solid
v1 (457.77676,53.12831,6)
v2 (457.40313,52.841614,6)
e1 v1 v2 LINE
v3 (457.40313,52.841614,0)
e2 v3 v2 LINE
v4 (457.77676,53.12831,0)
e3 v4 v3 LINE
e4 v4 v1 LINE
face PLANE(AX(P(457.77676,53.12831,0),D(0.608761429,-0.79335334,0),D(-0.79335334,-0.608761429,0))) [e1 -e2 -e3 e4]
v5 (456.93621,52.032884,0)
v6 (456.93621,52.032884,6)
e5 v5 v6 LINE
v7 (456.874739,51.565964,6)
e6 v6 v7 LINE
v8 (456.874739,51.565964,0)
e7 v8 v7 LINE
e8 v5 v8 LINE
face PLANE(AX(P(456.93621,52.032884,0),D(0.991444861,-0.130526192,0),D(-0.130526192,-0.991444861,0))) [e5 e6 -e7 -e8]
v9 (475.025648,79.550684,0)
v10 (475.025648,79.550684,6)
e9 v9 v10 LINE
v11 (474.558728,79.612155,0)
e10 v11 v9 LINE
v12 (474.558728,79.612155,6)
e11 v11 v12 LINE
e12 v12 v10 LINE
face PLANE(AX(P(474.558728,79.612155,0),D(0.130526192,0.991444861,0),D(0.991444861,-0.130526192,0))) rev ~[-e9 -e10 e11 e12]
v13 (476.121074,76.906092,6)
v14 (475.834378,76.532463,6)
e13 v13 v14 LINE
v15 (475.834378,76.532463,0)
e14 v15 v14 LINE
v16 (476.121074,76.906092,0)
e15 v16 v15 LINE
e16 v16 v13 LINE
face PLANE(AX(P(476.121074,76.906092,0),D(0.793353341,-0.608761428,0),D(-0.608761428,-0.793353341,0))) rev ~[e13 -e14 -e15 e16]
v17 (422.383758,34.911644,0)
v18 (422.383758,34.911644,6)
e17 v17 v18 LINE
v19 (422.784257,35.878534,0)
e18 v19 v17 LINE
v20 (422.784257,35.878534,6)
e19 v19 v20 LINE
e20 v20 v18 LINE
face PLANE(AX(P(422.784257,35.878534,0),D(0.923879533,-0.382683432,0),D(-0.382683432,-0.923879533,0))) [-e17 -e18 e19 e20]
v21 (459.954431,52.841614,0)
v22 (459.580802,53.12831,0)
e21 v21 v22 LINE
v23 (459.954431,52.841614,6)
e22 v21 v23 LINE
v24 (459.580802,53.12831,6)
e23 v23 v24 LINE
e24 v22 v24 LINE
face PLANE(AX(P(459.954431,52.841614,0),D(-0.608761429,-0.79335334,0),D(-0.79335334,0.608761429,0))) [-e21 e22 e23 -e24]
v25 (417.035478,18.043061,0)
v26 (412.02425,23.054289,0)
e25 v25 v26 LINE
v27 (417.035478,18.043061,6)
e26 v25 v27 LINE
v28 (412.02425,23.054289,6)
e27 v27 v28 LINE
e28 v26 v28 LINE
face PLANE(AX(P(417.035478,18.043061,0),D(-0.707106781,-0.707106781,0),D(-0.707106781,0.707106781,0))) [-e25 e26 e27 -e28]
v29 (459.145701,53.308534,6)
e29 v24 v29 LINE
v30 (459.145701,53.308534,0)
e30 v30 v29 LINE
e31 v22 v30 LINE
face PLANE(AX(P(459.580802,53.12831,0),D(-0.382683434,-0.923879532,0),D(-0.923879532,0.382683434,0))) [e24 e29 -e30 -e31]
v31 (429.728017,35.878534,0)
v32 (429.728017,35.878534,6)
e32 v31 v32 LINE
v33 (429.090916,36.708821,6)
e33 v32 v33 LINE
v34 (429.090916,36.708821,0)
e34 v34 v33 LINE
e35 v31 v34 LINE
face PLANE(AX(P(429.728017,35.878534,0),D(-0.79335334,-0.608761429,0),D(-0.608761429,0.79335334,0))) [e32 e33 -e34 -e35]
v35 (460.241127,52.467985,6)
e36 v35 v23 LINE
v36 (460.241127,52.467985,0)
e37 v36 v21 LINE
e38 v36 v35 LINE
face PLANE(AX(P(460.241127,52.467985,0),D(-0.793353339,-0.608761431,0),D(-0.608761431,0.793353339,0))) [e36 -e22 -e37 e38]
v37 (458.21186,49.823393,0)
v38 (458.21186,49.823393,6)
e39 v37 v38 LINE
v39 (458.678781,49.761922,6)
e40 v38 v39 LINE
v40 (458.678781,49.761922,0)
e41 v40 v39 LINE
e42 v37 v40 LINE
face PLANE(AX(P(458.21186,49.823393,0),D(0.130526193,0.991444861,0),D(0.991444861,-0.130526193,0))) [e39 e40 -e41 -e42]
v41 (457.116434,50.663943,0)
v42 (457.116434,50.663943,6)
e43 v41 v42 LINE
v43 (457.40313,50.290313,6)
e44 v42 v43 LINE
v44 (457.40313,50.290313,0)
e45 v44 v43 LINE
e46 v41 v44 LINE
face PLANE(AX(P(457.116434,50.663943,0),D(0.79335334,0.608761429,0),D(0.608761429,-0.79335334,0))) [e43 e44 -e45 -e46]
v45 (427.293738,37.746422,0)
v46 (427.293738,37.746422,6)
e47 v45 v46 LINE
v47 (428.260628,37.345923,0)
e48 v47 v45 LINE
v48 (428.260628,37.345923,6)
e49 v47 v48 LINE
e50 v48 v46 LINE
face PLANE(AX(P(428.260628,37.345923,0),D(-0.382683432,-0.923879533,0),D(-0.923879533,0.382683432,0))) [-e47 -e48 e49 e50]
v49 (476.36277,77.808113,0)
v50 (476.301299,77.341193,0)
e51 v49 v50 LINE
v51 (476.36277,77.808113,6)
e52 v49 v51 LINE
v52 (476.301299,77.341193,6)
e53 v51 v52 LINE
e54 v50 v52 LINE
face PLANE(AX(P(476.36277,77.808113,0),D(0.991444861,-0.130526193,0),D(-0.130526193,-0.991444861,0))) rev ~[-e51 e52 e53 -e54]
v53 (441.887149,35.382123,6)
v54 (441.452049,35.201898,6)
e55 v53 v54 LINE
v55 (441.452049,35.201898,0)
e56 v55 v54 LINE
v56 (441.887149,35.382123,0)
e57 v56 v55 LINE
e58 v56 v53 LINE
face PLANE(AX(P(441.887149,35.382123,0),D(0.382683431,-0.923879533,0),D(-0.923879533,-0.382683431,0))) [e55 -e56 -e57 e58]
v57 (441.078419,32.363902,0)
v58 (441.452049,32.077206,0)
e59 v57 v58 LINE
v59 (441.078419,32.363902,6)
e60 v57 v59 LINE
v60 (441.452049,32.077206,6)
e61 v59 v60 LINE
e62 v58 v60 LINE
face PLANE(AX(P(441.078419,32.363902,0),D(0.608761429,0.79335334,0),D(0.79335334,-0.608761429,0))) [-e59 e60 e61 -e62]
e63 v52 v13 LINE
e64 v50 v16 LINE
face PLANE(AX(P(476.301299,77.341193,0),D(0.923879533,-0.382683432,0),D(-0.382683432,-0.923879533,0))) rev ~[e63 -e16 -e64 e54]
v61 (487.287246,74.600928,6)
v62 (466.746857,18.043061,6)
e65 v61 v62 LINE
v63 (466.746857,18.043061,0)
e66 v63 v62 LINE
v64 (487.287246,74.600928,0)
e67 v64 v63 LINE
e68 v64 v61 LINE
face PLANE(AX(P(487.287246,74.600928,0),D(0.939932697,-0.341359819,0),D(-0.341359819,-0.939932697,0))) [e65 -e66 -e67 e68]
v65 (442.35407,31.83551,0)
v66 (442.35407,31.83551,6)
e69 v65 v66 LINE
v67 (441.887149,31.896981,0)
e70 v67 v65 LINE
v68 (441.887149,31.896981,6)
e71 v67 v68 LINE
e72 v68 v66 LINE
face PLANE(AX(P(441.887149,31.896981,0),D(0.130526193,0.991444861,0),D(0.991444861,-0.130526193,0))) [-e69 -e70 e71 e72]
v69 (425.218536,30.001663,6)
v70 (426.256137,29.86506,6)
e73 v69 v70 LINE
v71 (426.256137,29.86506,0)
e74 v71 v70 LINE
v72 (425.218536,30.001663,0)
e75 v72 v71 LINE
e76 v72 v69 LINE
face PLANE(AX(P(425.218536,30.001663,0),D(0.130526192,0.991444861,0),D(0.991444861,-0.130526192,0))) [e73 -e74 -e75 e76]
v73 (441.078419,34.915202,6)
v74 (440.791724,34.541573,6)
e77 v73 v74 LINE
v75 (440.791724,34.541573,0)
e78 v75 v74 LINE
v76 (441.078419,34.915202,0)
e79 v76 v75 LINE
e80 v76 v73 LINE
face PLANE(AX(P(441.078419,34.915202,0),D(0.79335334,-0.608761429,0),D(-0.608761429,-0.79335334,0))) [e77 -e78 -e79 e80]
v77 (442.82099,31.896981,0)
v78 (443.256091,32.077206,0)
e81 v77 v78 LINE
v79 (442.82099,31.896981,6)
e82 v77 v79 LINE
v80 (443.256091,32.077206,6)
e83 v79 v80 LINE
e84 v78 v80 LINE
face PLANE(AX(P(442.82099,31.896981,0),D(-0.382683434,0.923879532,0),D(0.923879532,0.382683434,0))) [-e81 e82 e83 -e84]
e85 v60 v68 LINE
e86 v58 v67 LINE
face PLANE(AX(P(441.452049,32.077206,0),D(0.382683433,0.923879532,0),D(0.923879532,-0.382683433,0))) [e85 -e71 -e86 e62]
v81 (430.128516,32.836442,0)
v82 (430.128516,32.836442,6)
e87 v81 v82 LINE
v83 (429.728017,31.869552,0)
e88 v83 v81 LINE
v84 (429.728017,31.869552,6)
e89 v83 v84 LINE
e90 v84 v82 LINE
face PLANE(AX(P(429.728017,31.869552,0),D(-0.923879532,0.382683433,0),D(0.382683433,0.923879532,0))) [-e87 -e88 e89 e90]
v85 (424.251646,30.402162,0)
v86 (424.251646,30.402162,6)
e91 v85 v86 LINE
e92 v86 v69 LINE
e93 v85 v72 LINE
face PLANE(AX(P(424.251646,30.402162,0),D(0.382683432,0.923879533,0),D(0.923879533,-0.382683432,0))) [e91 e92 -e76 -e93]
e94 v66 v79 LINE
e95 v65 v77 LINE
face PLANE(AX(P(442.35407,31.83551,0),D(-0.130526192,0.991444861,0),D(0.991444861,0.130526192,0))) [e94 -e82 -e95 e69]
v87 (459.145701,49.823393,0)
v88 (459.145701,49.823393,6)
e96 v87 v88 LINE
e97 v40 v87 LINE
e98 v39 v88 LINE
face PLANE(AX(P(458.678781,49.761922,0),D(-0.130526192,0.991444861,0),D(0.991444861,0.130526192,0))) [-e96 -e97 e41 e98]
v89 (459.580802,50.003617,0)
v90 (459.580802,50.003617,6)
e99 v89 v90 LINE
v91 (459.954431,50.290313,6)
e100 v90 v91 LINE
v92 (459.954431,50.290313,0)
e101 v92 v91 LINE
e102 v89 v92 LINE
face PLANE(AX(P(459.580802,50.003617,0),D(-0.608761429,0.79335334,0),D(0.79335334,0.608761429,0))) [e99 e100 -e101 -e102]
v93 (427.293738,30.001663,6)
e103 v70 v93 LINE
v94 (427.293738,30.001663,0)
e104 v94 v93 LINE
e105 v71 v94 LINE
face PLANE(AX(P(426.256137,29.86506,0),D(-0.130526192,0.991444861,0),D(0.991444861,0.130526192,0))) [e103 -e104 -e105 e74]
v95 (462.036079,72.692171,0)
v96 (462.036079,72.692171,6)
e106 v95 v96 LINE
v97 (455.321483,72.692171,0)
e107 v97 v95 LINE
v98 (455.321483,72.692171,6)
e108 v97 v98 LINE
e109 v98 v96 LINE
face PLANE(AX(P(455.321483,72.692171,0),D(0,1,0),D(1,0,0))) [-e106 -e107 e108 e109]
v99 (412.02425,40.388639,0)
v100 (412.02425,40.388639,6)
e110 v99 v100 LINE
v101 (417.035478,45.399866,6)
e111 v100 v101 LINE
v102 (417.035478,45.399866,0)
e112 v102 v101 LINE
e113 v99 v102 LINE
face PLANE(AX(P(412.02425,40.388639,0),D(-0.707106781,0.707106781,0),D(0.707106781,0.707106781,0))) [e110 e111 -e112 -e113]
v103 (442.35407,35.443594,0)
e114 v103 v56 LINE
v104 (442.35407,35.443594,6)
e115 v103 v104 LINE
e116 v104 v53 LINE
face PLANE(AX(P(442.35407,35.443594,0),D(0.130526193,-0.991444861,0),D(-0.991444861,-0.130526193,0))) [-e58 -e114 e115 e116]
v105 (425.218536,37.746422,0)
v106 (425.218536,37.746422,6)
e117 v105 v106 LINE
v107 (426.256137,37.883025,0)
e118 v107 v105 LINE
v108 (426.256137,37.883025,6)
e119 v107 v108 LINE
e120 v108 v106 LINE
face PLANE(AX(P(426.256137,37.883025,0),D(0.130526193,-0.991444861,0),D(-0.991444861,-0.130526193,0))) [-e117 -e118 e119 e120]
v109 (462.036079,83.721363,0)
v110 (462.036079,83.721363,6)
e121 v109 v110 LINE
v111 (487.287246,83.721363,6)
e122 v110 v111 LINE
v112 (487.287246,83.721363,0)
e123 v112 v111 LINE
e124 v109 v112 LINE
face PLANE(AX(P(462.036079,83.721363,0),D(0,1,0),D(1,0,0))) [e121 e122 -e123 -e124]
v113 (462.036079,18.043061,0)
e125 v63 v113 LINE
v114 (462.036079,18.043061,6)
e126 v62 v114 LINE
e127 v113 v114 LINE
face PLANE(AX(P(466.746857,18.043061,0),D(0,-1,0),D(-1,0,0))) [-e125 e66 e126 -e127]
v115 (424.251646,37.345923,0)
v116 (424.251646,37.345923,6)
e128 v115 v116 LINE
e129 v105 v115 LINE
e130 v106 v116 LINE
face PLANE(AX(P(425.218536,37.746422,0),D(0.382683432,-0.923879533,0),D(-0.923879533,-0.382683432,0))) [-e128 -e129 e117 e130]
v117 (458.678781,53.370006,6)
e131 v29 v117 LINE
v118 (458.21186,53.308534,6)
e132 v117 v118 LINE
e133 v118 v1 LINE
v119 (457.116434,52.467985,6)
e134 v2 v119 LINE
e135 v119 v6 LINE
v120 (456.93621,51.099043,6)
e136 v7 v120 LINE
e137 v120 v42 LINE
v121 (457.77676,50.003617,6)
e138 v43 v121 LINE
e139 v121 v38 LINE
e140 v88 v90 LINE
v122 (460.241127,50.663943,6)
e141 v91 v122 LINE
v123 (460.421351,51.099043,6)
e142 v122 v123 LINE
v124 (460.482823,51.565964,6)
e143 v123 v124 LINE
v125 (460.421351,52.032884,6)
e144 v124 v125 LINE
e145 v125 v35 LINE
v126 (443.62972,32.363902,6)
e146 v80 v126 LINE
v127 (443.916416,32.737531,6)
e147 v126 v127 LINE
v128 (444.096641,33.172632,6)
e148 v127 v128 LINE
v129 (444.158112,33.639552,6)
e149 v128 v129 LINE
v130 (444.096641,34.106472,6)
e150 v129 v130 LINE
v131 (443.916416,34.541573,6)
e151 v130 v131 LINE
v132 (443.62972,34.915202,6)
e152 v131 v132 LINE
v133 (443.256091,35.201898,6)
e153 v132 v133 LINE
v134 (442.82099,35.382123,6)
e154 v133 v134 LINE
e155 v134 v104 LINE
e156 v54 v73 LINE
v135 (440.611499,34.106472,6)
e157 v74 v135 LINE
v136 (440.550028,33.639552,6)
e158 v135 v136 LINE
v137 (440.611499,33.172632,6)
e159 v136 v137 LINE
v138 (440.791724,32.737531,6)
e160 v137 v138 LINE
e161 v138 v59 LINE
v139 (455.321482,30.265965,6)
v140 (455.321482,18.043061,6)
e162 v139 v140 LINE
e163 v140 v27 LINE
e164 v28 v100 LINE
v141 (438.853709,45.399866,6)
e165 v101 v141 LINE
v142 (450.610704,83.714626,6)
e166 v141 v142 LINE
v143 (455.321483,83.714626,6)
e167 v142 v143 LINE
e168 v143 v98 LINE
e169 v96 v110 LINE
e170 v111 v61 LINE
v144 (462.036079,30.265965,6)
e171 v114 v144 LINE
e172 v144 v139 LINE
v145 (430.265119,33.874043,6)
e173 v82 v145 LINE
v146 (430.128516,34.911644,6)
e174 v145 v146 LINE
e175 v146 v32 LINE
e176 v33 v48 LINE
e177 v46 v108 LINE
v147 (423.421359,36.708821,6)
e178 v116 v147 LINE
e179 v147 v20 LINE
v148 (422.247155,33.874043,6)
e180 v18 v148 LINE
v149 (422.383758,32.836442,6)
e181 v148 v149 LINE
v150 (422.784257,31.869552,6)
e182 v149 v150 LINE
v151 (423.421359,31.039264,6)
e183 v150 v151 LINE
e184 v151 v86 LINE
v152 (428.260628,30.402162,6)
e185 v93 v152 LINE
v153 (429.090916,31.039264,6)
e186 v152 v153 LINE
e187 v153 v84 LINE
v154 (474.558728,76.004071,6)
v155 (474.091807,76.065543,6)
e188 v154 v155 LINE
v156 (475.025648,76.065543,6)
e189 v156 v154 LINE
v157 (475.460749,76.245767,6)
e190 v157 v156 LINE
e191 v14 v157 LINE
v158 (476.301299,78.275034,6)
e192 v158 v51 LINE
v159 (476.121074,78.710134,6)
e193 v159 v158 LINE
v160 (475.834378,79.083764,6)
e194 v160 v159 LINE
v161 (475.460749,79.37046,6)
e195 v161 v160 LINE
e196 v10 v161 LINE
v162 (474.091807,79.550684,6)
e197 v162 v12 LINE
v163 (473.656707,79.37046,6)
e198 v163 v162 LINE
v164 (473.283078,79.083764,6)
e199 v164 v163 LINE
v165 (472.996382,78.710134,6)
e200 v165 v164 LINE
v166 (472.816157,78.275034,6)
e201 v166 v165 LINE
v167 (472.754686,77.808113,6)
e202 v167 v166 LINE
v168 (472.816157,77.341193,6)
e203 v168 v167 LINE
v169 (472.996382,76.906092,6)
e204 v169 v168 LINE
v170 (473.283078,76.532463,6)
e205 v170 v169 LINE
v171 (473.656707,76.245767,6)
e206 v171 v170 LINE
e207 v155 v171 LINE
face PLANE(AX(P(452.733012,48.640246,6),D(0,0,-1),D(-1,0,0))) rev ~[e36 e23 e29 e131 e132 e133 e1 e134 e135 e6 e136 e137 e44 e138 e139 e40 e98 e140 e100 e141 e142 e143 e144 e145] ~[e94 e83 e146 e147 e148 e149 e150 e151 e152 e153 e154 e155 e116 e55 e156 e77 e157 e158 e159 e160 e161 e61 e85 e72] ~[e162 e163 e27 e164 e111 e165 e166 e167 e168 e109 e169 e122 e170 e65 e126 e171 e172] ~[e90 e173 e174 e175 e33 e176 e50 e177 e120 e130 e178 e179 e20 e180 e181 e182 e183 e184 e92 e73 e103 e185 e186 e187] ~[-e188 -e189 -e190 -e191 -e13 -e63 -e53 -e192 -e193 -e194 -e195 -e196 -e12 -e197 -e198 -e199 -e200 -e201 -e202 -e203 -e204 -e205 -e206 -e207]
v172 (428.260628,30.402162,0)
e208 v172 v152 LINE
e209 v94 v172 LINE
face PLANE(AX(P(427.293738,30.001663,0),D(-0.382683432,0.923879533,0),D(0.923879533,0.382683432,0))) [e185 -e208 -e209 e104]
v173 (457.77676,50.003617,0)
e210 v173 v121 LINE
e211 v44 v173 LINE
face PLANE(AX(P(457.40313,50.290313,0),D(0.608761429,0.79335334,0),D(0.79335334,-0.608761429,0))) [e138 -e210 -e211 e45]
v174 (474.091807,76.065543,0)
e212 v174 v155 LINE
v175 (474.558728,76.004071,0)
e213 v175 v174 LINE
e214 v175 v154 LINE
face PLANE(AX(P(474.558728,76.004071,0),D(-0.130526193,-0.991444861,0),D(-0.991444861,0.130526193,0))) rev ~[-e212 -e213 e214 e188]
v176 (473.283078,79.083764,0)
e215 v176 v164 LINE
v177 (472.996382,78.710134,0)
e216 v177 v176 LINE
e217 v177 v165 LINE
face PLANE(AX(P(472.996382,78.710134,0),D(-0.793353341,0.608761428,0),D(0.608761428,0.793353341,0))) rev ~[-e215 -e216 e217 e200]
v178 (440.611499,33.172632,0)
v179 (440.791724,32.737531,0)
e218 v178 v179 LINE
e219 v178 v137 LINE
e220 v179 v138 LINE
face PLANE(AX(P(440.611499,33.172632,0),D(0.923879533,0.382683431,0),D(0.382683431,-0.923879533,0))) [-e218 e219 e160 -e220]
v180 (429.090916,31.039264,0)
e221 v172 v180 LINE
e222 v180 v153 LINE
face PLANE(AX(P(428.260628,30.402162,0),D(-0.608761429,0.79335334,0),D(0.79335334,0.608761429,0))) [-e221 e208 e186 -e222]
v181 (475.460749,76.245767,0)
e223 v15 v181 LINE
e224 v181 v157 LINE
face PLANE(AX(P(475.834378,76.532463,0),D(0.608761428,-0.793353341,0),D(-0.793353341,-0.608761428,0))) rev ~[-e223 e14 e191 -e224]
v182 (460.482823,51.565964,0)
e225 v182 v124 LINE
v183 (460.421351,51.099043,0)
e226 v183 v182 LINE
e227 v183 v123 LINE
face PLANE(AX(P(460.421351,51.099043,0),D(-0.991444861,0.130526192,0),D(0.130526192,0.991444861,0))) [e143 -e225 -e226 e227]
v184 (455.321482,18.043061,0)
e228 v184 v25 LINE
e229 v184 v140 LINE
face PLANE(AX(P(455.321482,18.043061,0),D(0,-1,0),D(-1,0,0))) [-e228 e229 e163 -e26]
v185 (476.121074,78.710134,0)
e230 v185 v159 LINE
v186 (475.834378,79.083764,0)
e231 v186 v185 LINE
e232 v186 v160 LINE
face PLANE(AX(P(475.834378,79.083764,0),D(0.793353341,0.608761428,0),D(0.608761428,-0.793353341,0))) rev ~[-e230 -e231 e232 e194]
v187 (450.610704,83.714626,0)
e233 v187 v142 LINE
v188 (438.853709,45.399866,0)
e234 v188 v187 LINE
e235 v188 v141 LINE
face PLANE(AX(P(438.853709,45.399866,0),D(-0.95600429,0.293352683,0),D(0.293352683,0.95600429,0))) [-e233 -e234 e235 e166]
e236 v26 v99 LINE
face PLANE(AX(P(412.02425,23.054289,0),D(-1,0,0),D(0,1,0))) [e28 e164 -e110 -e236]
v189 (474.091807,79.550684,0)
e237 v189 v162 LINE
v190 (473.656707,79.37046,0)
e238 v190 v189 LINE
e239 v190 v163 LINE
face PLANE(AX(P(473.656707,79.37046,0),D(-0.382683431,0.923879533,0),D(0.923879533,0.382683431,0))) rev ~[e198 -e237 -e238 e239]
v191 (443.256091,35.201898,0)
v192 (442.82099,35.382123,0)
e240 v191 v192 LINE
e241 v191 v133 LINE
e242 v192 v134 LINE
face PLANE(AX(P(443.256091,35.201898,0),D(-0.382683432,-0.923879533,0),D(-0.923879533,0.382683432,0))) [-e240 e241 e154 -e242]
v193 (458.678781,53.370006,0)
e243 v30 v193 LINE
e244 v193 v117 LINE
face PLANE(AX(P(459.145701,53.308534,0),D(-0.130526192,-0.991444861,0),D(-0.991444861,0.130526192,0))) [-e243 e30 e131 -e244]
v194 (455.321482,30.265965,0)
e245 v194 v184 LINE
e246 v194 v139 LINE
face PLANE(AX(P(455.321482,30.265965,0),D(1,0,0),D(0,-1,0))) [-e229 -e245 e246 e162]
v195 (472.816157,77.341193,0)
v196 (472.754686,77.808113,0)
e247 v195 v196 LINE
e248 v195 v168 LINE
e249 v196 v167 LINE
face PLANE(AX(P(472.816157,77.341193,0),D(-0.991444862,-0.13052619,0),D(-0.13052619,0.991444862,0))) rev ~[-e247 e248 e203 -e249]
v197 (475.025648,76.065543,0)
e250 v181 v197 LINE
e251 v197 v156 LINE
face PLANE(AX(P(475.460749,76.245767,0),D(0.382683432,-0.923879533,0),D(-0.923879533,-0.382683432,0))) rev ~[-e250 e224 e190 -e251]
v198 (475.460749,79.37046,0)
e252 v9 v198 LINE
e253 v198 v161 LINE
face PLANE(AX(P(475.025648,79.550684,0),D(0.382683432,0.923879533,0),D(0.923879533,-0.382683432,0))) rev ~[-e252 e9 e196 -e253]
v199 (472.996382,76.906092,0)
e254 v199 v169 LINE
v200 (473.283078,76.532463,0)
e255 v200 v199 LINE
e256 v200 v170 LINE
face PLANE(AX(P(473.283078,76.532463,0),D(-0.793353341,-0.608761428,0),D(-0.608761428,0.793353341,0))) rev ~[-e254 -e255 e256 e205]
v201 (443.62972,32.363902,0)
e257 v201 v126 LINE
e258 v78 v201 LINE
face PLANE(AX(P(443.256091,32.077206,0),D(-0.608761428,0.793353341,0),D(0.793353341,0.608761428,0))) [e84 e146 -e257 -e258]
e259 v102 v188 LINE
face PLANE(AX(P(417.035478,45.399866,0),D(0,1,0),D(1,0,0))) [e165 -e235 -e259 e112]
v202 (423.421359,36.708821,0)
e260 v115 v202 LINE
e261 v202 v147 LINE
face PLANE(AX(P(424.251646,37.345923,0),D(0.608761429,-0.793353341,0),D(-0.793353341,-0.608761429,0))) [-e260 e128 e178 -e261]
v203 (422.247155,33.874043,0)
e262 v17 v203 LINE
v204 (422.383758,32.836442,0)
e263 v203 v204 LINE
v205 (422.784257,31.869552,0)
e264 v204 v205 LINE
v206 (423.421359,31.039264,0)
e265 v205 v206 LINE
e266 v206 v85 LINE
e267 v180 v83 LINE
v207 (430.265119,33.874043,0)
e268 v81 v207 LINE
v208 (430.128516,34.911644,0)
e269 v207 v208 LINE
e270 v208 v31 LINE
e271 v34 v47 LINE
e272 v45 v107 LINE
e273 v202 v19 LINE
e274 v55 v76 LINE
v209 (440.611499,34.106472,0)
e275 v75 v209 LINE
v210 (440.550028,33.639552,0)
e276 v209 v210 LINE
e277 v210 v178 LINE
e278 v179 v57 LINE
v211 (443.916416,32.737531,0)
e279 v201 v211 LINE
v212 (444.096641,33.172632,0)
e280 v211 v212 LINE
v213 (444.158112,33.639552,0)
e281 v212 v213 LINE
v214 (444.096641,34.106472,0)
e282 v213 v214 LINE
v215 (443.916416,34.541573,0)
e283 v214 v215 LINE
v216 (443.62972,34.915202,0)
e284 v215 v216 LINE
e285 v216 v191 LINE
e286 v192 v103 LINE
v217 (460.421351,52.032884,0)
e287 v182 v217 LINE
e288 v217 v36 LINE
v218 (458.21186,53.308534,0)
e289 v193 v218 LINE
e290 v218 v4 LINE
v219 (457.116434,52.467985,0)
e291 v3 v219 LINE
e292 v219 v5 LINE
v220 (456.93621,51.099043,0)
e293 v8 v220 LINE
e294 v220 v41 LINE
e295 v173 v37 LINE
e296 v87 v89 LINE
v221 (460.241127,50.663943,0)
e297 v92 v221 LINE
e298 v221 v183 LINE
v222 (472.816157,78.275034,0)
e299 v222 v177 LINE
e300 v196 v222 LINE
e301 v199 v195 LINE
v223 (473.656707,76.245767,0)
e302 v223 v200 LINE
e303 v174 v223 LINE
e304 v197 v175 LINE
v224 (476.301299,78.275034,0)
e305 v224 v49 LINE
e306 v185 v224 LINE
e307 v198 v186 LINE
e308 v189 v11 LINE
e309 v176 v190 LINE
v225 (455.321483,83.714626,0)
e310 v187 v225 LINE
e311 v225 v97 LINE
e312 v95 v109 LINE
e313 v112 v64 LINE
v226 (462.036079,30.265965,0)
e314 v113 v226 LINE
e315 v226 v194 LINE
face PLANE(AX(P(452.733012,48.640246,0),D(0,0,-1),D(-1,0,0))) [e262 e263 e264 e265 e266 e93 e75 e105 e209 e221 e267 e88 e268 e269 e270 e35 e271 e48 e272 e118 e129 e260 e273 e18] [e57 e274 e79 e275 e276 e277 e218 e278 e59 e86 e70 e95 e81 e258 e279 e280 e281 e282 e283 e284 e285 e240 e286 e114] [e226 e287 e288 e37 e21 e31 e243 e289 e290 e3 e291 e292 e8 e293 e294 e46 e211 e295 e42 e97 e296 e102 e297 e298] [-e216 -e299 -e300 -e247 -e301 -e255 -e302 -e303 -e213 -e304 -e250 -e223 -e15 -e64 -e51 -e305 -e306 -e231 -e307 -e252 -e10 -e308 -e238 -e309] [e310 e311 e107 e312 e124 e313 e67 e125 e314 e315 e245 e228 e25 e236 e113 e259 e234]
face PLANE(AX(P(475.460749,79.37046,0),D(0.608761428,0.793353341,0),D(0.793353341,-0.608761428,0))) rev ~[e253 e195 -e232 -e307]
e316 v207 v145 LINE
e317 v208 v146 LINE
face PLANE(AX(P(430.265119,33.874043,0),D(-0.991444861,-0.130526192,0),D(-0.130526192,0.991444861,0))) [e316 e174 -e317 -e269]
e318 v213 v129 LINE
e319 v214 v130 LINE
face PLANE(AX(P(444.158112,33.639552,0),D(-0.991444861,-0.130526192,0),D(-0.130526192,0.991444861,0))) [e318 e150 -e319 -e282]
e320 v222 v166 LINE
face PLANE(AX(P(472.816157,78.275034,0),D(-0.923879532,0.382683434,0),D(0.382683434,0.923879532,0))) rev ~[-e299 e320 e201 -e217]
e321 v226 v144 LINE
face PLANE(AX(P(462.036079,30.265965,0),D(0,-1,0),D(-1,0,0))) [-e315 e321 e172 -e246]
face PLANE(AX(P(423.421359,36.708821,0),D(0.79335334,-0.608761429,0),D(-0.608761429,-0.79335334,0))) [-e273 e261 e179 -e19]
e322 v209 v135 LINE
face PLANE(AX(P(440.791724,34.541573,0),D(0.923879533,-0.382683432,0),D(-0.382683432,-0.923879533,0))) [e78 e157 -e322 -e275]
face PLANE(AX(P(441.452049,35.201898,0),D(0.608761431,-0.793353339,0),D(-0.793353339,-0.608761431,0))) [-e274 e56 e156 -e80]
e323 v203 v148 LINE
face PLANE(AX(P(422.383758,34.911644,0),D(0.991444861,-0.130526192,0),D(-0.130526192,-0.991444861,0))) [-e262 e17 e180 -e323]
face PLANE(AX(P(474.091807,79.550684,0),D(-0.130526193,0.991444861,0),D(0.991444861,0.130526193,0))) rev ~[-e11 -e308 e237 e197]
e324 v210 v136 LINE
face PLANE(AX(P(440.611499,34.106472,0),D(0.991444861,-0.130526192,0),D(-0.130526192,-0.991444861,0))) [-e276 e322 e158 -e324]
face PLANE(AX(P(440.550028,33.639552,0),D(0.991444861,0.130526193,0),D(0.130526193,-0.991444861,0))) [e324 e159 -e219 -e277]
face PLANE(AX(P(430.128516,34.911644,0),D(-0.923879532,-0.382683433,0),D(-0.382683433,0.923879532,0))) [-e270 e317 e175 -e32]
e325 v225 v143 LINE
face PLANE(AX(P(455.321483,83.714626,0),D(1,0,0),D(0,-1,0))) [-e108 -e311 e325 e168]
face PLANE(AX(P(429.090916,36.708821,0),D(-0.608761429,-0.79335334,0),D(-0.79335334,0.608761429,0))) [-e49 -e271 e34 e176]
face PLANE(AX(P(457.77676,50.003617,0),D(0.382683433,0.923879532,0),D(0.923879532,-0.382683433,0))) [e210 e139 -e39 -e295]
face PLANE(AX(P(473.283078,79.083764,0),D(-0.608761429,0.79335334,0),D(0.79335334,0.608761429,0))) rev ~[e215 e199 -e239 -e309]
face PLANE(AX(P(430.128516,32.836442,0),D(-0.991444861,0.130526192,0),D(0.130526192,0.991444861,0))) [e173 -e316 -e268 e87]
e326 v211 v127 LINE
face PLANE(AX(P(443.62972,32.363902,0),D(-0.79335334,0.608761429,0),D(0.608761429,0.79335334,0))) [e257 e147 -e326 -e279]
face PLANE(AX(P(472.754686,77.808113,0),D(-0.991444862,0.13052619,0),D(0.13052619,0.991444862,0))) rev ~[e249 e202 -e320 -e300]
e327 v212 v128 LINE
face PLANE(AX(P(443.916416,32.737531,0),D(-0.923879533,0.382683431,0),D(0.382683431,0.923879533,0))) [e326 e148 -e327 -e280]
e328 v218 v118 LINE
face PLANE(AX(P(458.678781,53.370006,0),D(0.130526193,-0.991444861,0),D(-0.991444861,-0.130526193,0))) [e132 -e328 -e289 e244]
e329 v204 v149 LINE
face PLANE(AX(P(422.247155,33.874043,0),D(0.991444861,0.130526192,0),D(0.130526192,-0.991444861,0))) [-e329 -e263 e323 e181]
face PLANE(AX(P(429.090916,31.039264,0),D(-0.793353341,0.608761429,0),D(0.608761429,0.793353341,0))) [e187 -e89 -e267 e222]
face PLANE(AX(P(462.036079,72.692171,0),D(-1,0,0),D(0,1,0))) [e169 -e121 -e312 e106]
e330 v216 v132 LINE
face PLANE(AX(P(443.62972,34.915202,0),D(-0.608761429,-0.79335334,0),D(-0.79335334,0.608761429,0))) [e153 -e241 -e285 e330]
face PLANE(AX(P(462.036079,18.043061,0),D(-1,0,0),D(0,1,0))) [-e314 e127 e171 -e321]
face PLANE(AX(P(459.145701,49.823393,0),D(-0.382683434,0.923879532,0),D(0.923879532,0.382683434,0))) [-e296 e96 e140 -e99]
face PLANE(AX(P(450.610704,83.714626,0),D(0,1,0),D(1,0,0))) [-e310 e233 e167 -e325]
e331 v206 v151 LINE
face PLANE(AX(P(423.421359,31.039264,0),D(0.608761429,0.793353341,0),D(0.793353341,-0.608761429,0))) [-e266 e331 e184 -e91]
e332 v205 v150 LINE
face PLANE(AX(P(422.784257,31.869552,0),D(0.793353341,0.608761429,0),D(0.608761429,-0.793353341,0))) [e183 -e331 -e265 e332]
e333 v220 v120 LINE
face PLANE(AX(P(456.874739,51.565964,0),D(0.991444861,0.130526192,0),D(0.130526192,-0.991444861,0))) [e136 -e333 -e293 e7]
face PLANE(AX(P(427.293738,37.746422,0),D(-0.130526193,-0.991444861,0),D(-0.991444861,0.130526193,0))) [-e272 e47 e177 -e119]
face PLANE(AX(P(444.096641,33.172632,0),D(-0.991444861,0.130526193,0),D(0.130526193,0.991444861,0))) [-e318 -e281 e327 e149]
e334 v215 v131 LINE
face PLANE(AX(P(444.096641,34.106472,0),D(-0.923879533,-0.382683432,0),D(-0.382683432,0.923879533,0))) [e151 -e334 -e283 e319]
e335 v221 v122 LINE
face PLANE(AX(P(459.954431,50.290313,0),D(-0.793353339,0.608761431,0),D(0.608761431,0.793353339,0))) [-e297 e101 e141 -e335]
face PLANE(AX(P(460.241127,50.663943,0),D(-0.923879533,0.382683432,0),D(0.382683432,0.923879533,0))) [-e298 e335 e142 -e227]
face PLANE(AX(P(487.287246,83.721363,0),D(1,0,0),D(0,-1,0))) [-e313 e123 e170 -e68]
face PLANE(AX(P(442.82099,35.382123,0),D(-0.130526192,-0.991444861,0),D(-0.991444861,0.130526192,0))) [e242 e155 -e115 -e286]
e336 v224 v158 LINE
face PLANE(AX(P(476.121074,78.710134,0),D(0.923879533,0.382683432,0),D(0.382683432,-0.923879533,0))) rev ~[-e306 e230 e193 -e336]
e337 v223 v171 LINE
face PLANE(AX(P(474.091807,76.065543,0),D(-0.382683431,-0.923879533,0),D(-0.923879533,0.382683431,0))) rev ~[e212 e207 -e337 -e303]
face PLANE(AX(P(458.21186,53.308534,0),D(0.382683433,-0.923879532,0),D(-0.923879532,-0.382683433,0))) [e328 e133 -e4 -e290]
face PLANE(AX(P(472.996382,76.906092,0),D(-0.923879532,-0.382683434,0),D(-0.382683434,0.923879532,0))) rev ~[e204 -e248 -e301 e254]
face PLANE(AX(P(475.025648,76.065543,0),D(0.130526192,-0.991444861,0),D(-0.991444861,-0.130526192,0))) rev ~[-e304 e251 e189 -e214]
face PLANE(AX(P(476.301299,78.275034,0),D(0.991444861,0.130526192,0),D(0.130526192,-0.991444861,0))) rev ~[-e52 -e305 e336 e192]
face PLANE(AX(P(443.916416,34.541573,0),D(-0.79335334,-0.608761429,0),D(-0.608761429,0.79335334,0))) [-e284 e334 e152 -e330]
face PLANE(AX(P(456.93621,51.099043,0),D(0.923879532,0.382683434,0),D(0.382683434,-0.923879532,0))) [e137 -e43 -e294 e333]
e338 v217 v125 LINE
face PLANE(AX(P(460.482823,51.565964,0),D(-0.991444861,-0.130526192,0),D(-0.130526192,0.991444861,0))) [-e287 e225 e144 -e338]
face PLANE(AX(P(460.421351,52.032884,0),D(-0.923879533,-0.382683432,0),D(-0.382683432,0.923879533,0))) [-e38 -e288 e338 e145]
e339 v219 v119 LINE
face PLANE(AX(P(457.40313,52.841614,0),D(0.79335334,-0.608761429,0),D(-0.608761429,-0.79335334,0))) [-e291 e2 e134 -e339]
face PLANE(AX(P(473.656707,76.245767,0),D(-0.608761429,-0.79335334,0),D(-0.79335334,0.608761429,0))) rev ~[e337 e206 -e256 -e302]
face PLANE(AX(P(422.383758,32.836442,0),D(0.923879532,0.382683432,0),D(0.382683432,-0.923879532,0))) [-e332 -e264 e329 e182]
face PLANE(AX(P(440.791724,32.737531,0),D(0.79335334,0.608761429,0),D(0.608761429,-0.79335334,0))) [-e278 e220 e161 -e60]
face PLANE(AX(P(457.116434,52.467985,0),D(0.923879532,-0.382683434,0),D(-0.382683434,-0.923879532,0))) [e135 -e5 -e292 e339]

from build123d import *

# Parameters (mm, degrees)
BOSS_EXTRUDE1_DEPTH = 6


with BuildPart() as part:
    # Sketch1 → Boss-Extrude1 (new body)
    with BuildSketch(Plane.XY):
        Polygon((455.321482469, 30.265965349), (455.321482469, 18.043060934), (417.035477952, 18.043060934), (412.024250219, 23.054288667), (412.024250219, 40.388638702), (417.035477942, 45.399866425), (438.853709045, 45.399866425), (450.610703884, 83.714625961), (455.321482507, 83.714625961), (455.321482507, 72.692170576), (462.036078559, 72.692170576), (462.036078559, 83.721362841), (487.287246321, 83.721362841), (487.287246321, 74.600928376), (466.746857142, 18.043060933), (462.036078521, 18.043060933), (462.036078521, 30.265965349), align=None)
        Polygon((440.791723633, 34.541573026), (440.611499077, 34.106472458), (440.550027837, 33.639552034), (440.611499077, 33.172631611), (440.791723633, 32.737531042), (441.0784195, 32.363901714), (441.452048828, 32.077205847), (441.887149397, 31.89698129), (442.35406982, 31.83551005), (442.820990244, 31.89698129), (443.256090812, 32.077205847), (443.629720141, 32.363901714), (443.916416008, 32.737531042), (444.096640564, 33.172631611), (444.158111804, 33.639552034), (444.096640564, 34.106472458), (443.916416008, 34.541573026), (443.629720141, 34.915202354), (443.256090812, 35.201898222), (442.820990244, 35.382122778), (442.35406982, 35.443594018), (441.887149397, 35.382122778), (441.452048828, 35.201898222), (441.0784195, 34.915202354), align=None, mode=Mode.SUBTRACT)
        Polygon((422.383757586, 34.911643598), (422.247154831, 33.874042657), (422.383757586, 32.836441715), (422.7842566, 31.869551564), (423.421358527, 31.039264167), (424.251645924, 30.40216224), (425.218536076, 30.001663226), (426.256137017, 29.865060471), (427.293737958, 30.001663226), (428.26062811, 30.40216224), (429.090915506, 31.039264167), (429.728017433, 31.869551564), (430.128516448, 32.836441715), (430.265119203, 33.874042657), (430.128516448, 34.911643598), (429.728017433, 35.87853375), (429.090915506, 36.708821146), (428.26062811, 37.345923073), (427.293737958, 37.746422087), (426.256137017, 37.883024843), (425.218536076, 37.746422087), (424.251645924, 37.345923073), (423.421358527, 36.708821146), (422.7842566, 35.87853375), align=None, mode=Mode.SUBTRACT)
        Polygon((460.482822519, 51.565963652), (460.421351279, 52.032884076), (460.241126723, 52.467984644), (459.954430855, 52.841613972), (459.580801527, 53.128309839), (459.145700959, 53.308534396), (458.678780535, 53.370005636), (458.211860112, 53.308534396), (457.776759543, 53.128309839), (457.403130215, 52.841613972), (457.116434348, 52.467984644), (456.936209791, 52.032884076), (456.874738551, 51.565963652), (456.936209791, 51.099043228), (457.116434348, 50.66394266), (457.403130215, 50.290313332), (457.776759543, 50.003617465), (458.211860112, 49.823392908), (458.678780535, 49.761921668), (459.145700959, 49.823392908), (459.580801527, 50.003617465), (459.954430855, 50.290313332), (460.241126723, 50.66394266), (460.421351279, 51.099043228), align=None, mode=Mode.SUBTRACT)
        Polygon((476.121074094, 76.906092397), (475.834378227, 76.532463068), (475.460748898, 76.245767201), (475.02564833, 76.065542645), (474.558727906, 76.004071405), (474.091807483, 76.065542645), (473.656706914, 76.245767201), (473.283077586, 76.532463068), (472.996381719, 76.906092397), (472.816157162, 77.341192965), (472.754685923, 77.808113388), (472.816157162, 78.275033812), (472.996381719, 78.71013438), (473.283077586, 79.083763709), (473.656706914, 79.370459576), (474.091807483, 79.550684132), (474.558727906, 79.612155372), (475.02564833, 79.550684132), (475.460748898, 79.370459576), (475.834378227, 79.083763709), (476.121074094, 78.71013438), (476.30129865, 78.275033812), (476.36276989, 77.808113388), (476.30129865, 77.341192965), align=None, mode=Mode.SUBTRACT)
    extrude(amount=BOSS_EXTRUDE1_DEPTH)


solid = part.part
